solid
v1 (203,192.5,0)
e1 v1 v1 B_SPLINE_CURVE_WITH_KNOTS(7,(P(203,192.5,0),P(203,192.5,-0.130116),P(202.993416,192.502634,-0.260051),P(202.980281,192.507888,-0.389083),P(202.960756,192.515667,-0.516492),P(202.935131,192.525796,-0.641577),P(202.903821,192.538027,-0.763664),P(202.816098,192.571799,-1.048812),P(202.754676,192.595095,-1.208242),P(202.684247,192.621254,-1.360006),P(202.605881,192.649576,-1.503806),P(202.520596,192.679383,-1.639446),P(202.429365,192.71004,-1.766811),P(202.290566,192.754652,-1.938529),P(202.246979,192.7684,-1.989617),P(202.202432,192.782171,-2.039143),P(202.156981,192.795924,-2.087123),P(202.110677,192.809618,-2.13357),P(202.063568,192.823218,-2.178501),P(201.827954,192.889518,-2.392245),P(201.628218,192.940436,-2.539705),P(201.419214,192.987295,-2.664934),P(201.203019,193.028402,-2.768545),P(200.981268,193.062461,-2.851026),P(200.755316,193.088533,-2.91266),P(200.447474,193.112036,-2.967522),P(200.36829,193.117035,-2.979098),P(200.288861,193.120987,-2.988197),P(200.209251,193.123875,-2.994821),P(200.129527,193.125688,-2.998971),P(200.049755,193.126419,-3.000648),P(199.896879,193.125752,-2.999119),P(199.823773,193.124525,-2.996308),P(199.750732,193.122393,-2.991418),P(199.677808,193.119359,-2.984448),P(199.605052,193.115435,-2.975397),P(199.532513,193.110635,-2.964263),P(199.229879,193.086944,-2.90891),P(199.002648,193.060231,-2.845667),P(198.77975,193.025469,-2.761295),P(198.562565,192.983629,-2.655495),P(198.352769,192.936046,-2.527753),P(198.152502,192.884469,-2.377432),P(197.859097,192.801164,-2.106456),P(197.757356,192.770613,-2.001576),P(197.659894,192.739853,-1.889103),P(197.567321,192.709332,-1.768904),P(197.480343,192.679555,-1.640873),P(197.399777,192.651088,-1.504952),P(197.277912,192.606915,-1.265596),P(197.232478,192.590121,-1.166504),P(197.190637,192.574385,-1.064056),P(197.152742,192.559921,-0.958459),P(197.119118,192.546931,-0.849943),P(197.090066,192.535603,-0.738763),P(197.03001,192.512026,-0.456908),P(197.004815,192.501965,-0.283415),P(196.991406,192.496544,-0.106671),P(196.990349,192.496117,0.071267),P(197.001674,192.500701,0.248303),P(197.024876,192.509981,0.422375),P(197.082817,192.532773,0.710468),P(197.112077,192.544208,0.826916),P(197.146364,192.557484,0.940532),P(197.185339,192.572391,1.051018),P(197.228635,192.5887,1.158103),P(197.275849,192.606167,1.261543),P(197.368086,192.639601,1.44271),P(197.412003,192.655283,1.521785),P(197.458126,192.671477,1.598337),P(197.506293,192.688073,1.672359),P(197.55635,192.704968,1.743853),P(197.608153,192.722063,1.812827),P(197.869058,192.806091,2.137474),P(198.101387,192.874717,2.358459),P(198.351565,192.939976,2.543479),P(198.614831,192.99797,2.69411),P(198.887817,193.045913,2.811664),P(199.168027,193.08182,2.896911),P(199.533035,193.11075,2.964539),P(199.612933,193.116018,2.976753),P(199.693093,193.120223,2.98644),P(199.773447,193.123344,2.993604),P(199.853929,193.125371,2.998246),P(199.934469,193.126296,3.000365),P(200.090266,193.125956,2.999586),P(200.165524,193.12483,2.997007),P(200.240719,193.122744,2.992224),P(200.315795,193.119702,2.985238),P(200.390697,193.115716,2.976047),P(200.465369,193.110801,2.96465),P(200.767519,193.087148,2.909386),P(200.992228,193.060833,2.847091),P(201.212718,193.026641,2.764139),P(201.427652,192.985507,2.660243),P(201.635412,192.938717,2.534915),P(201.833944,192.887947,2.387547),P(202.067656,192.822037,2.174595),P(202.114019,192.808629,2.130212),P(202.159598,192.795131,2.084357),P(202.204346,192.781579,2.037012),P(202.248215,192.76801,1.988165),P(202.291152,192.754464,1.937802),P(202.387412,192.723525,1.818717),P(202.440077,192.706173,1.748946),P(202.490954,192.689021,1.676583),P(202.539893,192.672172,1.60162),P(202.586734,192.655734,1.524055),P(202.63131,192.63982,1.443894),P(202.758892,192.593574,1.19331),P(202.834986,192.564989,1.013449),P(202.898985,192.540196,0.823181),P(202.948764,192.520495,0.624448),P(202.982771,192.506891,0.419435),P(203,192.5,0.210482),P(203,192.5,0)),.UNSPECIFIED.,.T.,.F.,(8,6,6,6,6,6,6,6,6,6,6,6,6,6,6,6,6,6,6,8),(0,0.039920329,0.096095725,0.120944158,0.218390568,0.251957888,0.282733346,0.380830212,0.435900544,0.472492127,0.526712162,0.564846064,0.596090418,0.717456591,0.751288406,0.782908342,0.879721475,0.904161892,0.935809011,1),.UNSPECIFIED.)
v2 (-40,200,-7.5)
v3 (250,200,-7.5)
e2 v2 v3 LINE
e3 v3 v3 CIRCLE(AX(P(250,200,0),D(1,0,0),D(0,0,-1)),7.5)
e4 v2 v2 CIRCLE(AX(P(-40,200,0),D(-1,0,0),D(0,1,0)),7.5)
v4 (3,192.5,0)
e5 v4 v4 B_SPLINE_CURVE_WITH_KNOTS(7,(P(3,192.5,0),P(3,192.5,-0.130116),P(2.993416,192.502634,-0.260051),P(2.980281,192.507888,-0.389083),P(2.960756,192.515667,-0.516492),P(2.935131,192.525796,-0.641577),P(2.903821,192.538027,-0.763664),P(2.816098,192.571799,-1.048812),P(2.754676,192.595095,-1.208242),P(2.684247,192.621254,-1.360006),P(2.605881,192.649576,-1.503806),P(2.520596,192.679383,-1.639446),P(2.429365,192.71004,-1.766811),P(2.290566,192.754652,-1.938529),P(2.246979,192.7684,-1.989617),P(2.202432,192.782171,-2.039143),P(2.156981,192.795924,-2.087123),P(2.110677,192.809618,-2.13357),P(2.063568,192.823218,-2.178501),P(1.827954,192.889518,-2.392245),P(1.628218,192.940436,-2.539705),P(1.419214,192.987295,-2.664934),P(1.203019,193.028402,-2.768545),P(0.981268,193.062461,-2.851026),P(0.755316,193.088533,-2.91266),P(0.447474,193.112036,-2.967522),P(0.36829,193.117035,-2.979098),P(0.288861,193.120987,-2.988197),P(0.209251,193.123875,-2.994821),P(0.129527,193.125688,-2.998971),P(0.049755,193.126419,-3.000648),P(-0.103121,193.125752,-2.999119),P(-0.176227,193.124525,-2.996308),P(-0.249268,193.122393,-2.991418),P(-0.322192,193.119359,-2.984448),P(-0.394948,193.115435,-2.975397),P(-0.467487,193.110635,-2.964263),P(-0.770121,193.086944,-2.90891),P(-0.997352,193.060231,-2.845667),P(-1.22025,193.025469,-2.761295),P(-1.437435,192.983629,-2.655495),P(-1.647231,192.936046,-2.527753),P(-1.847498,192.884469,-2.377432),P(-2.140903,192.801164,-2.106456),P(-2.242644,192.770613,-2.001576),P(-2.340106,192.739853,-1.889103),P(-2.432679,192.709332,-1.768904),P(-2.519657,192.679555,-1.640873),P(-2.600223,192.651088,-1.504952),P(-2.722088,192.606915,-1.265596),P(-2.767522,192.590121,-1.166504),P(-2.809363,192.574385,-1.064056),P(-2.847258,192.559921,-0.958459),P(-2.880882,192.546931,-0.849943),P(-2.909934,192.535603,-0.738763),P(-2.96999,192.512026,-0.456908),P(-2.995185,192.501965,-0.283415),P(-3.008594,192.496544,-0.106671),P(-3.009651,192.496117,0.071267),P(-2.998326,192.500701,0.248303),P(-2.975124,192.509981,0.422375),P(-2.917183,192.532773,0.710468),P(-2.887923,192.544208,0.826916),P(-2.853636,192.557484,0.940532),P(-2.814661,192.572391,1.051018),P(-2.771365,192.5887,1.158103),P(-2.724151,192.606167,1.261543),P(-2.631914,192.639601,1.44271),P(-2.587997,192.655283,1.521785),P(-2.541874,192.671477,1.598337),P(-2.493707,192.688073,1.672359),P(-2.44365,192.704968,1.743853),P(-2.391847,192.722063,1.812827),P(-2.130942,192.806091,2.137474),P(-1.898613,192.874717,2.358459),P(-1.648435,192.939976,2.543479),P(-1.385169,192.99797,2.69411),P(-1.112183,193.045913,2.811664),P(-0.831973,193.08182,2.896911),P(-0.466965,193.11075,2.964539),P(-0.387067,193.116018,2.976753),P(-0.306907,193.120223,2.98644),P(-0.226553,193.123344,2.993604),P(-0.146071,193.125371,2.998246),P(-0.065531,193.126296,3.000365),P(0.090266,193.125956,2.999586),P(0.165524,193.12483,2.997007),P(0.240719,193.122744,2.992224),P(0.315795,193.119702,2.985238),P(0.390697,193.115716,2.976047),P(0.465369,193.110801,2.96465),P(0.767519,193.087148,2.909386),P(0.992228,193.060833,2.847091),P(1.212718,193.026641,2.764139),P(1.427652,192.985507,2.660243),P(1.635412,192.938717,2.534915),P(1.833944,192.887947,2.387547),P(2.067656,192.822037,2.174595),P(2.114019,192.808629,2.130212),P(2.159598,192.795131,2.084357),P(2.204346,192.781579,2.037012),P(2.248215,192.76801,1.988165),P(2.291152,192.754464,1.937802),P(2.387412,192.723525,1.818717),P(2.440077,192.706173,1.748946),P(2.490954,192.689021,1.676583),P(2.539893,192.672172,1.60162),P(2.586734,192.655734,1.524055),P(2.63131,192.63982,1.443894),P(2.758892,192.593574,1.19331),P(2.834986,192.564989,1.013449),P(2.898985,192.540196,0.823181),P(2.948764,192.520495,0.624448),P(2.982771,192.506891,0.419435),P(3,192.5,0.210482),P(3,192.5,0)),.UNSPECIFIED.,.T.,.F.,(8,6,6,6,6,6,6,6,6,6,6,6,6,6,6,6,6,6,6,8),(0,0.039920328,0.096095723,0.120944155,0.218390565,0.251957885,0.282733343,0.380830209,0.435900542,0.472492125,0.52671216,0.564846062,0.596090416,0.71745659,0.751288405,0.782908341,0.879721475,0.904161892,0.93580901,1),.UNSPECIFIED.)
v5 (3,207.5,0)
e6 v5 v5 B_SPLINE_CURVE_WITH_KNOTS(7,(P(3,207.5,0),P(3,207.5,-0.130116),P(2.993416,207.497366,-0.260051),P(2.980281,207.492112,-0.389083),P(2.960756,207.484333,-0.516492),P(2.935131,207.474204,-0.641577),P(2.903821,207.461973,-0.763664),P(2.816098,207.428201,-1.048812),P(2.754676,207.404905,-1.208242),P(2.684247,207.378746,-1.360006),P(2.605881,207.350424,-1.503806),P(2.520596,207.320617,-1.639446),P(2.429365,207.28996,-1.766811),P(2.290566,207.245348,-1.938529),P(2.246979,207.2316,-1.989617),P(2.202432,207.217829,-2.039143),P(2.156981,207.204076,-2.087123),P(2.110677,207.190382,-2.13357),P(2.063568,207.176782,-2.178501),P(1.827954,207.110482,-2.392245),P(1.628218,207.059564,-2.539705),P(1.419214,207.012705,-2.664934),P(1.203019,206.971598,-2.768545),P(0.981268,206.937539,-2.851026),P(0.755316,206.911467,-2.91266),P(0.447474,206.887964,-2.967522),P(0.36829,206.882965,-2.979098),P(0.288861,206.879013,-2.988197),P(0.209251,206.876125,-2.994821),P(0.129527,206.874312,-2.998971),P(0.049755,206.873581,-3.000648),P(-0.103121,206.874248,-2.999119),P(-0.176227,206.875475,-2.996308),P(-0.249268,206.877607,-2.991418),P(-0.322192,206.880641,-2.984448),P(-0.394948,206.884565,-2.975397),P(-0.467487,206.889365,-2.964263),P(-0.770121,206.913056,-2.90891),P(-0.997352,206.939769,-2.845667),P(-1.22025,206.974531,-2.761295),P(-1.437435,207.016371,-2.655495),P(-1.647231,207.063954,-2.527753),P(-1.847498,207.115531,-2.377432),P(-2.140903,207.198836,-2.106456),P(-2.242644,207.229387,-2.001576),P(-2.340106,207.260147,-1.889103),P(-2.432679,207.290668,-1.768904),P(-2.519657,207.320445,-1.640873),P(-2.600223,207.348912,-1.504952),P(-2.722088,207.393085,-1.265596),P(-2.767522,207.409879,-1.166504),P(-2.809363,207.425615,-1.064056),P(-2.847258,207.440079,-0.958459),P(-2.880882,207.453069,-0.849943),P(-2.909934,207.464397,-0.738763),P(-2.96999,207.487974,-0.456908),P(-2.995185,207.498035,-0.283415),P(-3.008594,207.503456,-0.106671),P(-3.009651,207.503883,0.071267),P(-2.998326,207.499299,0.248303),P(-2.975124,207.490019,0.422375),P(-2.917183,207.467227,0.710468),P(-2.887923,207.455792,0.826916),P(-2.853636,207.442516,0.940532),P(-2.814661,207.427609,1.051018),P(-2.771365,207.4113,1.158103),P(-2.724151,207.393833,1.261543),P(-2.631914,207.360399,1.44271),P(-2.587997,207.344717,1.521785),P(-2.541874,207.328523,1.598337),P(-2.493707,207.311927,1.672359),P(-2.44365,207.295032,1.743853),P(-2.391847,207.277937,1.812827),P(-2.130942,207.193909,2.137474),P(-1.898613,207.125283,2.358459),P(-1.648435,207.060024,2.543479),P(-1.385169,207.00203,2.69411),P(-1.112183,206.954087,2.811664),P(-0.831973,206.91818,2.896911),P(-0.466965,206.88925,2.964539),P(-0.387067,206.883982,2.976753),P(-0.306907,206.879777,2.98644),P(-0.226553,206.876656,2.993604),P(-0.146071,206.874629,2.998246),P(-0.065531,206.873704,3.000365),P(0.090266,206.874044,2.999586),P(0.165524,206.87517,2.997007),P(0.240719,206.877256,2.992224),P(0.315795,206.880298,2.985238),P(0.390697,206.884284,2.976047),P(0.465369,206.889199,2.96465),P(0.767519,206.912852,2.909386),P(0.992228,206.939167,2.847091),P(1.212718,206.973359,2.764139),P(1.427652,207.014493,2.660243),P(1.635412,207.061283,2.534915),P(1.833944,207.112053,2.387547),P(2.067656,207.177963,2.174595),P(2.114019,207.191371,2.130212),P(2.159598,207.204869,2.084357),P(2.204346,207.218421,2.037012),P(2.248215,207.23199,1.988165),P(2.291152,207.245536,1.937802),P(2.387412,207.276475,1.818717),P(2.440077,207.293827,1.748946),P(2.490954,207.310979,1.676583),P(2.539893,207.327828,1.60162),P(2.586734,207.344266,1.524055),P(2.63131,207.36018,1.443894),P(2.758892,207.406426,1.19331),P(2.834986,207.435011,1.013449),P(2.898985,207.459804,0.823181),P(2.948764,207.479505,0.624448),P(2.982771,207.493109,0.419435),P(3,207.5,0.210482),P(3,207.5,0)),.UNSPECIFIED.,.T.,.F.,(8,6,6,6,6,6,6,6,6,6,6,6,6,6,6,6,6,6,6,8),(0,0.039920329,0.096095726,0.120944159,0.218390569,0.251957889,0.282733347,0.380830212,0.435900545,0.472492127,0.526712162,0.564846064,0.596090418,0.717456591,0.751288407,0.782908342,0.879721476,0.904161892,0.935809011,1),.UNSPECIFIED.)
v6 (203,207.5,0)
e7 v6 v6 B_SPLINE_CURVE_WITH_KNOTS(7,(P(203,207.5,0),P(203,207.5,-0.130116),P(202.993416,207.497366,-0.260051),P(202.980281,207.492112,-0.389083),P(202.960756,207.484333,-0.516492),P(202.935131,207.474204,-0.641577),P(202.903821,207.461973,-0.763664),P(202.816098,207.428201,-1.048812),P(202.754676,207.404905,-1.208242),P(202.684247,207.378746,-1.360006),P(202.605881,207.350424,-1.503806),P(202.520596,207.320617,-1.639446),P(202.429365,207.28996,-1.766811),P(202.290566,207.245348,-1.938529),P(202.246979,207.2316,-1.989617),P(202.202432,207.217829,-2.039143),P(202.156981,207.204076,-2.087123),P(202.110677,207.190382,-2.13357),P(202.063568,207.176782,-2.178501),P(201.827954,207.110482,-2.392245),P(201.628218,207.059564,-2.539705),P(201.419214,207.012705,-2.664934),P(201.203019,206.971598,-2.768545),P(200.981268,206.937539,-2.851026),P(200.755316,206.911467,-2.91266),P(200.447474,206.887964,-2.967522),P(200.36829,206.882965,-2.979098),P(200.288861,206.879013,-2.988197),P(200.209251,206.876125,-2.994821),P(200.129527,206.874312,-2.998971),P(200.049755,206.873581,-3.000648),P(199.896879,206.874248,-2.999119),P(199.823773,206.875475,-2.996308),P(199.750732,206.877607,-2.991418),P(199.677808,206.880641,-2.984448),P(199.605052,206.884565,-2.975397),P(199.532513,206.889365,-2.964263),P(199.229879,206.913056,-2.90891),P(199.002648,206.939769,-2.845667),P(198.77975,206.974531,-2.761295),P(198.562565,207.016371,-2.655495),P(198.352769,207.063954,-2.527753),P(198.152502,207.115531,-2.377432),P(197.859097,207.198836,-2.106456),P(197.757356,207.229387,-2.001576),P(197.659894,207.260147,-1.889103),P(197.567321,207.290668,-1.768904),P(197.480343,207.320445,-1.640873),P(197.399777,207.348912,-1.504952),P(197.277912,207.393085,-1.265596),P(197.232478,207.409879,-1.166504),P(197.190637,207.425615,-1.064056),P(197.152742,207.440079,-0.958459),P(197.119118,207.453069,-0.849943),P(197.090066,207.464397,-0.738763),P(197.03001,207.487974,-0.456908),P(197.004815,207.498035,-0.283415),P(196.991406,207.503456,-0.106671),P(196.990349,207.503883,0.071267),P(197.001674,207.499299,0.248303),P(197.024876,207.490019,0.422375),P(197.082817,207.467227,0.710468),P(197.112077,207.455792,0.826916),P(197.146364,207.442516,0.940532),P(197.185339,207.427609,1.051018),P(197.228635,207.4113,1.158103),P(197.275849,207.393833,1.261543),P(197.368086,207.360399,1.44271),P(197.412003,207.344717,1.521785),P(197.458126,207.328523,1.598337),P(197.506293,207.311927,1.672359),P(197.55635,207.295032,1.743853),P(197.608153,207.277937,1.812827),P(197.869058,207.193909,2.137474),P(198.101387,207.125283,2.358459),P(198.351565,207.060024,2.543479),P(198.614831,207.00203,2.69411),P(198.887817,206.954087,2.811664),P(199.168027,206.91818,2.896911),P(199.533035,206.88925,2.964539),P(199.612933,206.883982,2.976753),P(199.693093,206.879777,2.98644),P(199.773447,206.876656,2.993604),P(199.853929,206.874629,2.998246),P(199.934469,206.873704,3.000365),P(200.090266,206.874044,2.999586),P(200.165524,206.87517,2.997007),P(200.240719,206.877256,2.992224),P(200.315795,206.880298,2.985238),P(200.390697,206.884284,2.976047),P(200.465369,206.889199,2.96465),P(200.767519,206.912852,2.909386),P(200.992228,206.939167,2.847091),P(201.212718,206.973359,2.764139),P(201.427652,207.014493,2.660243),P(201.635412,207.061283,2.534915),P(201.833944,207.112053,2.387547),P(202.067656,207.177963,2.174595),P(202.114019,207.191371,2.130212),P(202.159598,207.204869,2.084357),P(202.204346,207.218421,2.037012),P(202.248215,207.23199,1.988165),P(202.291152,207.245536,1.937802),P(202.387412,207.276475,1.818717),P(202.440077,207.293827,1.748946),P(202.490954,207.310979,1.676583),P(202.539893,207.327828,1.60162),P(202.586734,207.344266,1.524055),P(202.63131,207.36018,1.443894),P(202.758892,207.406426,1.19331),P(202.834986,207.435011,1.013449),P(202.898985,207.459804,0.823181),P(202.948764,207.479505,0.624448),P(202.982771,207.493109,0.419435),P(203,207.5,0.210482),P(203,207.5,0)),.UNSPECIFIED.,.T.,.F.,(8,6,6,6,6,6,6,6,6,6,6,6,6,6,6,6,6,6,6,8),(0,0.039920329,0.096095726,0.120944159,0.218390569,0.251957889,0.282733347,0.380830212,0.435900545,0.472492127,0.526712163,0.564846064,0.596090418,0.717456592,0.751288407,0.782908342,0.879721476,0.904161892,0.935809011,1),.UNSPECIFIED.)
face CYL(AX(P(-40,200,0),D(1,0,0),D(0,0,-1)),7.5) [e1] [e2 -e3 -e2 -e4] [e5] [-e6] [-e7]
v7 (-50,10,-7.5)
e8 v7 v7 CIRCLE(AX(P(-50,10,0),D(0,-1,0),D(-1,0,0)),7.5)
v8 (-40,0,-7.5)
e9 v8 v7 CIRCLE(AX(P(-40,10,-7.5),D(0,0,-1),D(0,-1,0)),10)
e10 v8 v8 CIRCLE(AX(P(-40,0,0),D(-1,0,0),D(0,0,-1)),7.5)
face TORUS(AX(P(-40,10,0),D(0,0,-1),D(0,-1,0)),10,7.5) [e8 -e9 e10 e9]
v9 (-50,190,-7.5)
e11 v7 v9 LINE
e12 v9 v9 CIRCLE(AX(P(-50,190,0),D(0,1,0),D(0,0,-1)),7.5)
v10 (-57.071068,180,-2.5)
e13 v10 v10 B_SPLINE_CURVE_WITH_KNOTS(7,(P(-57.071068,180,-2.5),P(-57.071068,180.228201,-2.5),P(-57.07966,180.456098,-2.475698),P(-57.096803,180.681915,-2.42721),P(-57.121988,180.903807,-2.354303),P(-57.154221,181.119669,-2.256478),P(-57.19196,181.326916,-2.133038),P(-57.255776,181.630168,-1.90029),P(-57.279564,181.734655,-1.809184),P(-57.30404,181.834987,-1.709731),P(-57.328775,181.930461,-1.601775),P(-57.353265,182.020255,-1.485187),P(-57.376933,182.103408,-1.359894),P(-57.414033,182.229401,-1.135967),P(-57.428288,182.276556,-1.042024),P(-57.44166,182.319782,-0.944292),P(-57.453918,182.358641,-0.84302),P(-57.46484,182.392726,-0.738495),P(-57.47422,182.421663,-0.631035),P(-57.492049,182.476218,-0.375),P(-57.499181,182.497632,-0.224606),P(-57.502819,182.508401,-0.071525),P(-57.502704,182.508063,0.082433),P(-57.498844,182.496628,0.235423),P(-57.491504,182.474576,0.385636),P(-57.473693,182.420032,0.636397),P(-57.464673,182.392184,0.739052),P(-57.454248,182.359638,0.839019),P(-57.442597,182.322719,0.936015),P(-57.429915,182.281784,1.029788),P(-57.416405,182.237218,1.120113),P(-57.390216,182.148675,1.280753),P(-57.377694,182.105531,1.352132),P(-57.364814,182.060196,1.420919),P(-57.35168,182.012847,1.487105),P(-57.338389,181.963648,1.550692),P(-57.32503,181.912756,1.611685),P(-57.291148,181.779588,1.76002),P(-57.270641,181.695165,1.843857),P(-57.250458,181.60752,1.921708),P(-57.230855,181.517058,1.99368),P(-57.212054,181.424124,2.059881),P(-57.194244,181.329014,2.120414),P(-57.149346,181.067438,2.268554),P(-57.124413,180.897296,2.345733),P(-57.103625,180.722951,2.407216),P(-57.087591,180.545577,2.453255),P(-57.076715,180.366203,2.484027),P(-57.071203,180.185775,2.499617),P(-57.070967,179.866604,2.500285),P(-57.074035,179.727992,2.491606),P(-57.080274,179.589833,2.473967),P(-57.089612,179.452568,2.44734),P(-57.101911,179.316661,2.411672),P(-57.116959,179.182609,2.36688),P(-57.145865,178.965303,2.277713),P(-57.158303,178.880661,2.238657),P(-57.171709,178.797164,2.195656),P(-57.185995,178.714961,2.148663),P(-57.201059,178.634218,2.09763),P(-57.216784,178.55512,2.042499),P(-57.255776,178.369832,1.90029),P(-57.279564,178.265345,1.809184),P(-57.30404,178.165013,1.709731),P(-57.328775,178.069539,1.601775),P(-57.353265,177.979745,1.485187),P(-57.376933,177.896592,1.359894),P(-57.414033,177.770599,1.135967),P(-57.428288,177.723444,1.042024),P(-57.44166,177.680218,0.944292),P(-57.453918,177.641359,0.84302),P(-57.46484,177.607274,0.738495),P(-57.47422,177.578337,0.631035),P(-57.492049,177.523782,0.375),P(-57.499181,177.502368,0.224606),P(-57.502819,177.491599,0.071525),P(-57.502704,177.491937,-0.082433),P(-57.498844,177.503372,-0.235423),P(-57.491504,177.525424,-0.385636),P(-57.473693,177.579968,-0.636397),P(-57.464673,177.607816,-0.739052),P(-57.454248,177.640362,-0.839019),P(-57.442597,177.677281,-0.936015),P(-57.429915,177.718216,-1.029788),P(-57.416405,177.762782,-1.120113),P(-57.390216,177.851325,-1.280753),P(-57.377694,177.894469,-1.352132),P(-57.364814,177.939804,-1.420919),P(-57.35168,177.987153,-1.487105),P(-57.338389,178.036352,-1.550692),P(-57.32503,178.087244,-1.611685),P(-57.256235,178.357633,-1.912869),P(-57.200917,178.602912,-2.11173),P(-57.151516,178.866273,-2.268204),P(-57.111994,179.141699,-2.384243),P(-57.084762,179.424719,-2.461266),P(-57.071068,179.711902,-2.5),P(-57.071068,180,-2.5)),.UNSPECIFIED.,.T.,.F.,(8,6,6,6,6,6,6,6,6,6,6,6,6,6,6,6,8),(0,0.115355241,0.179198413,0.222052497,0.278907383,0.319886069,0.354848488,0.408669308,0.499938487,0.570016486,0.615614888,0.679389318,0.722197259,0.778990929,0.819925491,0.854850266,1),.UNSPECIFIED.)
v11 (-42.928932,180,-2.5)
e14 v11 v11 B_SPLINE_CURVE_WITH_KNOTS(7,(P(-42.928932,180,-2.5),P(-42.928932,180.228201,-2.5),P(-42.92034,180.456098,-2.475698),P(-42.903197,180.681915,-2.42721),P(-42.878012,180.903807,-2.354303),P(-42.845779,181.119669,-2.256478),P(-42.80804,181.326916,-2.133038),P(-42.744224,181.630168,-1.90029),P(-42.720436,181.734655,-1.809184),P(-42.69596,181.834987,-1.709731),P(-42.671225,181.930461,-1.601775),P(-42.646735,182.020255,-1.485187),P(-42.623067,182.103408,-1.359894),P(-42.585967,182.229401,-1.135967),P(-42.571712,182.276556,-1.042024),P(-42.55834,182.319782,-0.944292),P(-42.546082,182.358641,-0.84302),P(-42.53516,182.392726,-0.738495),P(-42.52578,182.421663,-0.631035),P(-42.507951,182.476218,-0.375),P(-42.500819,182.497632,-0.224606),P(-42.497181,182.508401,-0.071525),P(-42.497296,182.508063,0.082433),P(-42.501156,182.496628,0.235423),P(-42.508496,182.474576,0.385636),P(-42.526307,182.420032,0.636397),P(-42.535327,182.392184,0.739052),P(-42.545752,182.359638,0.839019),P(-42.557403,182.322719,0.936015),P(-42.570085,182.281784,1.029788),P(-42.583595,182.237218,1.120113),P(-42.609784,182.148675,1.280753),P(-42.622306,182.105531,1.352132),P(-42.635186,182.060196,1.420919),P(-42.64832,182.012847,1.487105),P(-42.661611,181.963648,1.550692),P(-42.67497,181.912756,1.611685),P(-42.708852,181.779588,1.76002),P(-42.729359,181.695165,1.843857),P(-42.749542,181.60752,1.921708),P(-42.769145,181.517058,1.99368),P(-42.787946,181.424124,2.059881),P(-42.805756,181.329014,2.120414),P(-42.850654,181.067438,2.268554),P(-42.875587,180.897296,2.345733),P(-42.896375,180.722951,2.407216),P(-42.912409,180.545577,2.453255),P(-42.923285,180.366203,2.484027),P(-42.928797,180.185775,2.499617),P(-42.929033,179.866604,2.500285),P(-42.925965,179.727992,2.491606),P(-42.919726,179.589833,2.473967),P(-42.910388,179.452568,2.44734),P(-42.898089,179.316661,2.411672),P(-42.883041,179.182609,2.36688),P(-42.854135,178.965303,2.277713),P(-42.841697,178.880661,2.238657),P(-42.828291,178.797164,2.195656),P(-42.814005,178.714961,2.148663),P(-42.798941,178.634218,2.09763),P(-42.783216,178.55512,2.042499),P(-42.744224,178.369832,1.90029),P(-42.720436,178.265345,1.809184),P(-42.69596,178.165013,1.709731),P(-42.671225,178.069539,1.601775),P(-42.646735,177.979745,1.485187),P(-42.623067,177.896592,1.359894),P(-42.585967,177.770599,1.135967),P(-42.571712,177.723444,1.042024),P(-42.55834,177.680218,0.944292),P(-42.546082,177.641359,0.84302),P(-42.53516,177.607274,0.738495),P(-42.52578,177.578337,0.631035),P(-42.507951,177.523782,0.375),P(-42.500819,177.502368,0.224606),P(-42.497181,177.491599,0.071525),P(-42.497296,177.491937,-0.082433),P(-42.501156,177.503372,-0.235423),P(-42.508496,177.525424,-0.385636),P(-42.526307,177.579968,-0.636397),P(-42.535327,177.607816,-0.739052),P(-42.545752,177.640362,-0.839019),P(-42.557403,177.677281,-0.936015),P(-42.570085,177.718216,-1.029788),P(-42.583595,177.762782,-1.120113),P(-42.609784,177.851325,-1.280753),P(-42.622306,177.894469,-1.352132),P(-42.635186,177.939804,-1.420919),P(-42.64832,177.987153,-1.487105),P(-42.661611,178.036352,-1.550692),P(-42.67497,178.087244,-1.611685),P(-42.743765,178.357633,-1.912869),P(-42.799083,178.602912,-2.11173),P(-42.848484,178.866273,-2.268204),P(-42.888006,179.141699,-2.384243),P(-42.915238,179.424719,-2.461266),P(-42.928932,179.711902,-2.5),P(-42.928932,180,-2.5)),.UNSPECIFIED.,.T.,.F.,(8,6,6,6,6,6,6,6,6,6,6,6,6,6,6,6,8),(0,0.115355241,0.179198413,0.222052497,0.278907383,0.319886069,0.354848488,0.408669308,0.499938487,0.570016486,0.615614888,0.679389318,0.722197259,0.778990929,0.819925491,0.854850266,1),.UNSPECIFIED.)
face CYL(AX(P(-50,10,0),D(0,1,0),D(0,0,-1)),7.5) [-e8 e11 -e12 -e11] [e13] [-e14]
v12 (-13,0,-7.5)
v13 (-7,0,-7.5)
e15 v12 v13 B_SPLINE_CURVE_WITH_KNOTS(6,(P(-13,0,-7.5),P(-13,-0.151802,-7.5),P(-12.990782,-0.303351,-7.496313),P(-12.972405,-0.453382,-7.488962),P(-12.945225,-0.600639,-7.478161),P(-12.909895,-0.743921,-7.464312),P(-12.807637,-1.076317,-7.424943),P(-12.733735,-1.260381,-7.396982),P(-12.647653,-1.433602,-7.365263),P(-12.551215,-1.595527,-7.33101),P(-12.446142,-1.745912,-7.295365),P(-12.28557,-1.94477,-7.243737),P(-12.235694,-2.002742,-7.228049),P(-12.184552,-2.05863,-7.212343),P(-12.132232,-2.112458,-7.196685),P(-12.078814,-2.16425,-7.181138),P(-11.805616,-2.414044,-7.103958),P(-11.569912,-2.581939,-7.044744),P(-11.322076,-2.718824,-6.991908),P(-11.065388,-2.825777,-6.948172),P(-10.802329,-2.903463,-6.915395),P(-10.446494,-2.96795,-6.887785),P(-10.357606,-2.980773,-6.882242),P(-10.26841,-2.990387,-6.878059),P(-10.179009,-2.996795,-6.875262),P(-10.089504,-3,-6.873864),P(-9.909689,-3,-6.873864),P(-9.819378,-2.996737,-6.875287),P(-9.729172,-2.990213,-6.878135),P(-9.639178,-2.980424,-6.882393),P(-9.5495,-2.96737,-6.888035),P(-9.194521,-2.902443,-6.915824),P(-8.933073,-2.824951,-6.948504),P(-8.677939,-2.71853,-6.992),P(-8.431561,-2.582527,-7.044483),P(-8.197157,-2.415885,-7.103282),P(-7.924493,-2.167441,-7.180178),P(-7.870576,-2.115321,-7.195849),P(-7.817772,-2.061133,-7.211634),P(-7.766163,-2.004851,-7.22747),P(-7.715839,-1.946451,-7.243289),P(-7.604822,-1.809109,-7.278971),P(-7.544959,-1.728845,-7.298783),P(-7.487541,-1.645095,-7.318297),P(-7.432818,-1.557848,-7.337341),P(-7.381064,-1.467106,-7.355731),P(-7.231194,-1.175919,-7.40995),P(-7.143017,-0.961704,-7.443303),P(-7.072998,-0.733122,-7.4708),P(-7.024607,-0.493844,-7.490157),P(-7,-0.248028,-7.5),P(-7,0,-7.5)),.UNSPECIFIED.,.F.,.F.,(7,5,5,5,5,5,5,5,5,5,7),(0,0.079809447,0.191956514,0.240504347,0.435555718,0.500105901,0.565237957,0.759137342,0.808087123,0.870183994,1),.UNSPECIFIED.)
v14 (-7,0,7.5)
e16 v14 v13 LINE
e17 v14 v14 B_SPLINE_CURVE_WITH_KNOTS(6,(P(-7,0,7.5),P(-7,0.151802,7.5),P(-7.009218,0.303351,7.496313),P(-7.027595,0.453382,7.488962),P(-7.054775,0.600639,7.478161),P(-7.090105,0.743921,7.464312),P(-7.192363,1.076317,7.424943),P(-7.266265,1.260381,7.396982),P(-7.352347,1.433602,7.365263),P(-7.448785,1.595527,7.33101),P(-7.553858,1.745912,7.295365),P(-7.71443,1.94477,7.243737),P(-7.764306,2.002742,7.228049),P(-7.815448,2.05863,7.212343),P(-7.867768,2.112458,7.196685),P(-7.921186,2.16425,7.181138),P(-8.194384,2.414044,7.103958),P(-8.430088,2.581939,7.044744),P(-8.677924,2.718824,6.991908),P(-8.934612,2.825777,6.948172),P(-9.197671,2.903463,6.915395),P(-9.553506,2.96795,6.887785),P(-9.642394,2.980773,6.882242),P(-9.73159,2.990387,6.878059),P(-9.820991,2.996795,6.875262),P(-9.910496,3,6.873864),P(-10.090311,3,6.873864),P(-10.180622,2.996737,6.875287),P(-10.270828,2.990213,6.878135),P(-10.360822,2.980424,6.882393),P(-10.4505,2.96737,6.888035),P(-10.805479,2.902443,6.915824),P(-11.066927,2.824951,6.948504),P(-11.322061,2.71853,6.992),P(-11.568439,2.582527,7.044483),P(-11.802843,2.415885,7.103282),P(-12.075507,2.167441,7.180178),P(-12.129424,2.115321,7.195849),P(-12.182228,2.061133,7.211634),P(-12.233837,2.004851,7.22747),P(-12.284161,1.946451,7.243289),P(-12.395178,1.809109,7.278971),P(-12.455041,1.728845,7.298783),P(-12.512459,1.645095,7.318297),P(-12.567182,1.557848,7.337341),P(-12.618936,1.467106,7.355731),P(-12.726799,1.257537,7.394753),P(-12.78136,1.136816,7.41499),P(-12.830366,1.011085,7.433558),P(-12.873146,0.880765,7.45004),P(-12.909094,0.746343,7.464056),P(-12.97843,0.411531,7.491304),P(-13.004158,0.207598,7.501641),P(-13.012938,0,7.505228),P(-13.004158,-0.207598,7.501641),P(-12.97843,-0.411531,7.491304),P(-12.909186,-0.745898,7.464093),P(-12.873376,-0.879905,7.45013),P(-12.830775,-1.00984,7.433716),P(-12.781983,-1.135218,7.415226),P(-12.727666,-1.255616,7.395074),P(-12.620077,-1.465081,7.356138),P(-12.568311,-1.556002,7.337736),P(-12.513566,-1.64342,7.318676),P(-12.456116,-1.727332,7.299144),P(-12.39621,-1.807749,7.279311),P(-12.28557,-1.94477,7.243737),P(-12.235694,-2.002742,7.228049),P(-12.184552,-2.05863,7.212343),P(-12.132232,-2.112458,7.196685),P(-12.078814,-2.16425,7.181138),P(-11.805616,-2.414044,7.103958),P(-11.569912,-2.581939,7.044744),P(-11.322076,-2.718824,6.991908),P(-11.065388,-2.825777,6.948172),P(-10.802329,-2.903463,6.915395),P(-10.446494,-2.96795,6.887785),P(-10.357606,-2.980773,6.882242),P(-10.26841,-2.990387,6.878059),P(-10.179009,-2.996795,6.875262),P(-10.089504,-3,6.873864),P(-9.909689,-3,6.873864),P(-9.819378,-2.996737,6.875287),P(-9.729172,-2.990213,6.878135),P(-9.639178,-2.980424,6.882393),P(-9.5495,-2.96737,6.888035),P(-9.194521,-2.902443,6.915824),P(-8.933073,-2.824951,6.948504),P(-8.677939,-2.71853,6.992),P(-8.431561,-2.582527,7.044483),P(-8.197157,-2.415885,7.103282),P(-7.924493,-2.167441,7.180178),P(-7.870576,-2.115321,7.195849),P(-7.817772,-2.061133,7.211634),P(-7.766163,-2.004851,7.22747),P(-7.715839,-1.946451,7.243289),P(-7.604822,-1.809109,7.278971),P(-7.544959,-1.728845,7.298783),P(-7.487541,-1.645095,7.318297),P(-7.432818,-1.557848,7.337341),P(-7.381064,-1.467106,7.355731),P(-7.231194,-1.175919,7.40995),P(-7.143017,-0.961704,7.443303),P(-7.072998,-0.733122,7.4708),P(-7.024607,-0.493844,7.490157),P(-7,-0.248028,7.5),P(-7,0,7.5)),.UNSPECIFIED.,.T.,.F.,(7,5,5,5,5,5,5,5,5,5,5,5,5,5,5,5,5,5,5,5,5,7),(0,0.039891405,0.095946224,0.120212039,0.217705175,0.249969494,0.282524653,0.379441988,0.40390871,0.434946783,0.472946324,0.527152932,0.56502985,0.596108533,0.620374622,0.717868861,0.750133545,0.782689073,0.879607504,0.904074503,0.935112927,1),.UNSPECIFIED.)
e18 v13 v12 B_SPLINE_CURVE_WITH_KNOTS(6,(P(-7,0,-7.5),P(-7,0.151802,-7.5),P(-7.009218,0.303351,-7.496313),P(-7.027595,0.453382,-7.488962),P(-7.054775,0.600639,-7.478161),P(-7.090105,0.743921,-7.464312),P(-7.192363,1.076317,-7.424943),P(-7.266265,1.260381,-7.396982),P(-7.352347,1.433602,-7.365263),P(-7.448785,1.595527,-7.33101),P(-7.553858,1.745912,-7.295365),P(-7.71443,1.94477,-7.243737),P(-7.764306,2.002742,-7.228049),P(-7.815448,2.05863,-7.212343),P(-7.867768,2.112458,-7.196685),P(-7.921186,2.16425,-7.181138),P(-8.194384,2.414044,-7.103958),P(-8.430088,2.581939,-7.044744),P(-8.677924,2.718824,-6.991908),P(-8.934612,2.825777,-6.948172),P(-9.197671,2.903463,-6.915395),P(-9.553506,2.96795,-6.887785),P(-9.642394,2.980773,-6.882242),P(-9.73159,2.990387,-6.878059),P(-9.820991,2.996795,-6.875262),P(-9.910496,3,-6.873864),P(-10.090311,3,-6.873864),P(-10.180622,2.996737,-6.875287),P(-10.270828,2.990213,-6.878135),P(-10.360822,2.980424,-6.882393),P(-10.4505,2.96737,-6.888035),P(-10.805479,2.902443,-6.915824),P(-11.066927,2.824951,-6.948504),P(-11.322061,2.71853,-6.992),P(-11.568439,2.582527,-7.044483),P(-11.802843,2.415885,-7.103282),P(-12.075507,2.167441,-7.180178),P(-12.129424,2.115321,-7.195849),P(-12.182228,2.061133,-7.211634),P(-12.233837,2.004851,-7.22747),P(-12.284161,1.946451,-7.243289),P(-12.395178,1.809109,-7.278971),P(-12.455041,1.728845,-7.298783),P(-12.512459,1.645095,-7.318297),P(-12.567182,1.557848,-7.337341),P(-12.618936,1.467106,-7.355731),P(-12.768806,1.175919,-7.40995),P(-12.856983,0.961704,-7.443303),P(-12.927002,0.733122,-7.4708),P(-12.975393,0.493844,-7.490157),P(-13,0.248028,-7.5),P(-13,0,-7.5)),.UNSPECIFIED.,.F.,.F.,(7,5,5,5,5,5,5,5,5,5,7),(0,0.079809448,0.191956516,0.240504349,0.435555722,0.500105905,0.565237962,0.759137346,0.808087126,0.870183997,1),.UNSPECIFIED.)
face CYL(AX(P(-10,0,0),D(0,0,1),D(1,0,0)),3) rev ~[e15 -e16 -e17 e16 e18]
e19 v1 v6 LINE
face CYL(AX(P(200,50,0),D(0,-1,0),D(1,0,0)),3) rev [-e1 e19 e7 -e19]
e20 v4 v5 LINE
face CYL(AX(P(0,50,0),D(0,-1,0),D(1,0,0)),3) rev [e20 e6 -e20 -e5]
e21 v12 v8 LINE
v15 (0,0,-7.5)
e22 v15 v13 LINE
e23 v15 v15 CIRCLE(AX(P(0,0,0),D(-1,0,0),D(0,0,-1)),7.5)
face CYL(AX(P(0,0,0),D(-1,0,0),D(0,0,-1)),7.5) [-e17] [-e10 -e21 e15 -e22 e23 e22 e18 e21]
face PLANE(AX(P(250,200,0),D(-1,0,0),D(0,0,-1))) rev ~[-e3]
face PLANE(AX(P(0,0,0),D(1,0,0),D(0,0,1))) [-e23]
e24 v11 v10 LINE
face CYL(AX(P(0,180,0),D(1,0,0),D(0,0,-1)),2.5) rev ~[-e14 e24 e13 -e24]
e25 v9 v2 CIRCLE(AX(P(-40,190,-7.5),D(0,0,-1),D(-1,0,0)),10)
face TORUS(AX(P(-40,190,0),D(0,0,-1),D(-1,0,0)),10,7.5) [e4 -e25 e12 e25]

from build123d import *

# Parameters (mm, degrees)
SKETCH_2_R               = 7.5
CUT_EXTRUDE_1_DEPTH      = 10
CUT_EXTRUDE_1_DEPTH_BACK = 10
SKETCH_3_R               = 3
SKETCH_4_R               = 3
CUT_EXTRUDE_2_DEPTH      = 175
SKETCH_5_R               = 2.5
CUT_EXTRUDE_3_DEPTH      = 325.980768805


with BuildPart() as part:
    # 扫描1: sweep along a path in 草图1
    with BuildLine(Plane.XY) as sweep_1_path:
        Line((0, 0), (-40, 0))
        ThreePointArc((-40, 0), (-47.071067812, 2.928932188), (-50, 10))
        Line((-50, 10), (-50, 190))
        ThreePointArc((-50, 190), (-47.071067812, 197.071067812), (-40, 200))
        Line((-40, 200), (250, 200))
    # 草图2 → 扫描1 (sweep)
    with BuildSketch(Plane(origin=(0, 0, 0), x_dir=(0, 0, -1), z_dir=(1, 0, 0))):
        Circle(SKETCH_2_R)
    sweep(path=sweep_1_path.line)

    # 草图3 → 切除-拉伸1 (cut, two sides: drawn at the far end of the back side and taken through both)
    with BuildSketch(Plane.XY.offset(-CUT_EXTRUDE_1_DEPTH_BACK)):
        with Locations((-10, 0)):
            Circle(SKETCH_3_R)
    extrude(amount=CUT_EXTRUDE_1_DEPTH + CUT_EXTRUDE_1_DEPTH_BACK, mode=Mode.SUBTRACT)

    # 草图4 → 切除-拉伸2 (cut)
    with BuildSketch(Plane(origin=(0, 50, 0), x_dir=(1, 0, 0), z_dir=(0, 1, 0))):
        with Locations((200, 0)):
            Circle(SKETCH_4_R)
        Circle(SKETCH_4_R)
    extrude(amount=CUT_EXTRUDE_2_DEPTH, mode=Mode.SUBTRACT)

    # 草图5 → 切除-拉伸3 (cut, through all)
    with BuildSketch(Plane(origin=(0, 0, 0), x_dir=(0, 0, -1), z_dir=(1, 0, 0))):
        with Locations((0, 180)):
            Circle(SKETCH_5_R)
    extrude(amount=-CUT_EXTRUDE_3_DEPTH, mode=Mode.SUBTRACT)


solid = part.part
